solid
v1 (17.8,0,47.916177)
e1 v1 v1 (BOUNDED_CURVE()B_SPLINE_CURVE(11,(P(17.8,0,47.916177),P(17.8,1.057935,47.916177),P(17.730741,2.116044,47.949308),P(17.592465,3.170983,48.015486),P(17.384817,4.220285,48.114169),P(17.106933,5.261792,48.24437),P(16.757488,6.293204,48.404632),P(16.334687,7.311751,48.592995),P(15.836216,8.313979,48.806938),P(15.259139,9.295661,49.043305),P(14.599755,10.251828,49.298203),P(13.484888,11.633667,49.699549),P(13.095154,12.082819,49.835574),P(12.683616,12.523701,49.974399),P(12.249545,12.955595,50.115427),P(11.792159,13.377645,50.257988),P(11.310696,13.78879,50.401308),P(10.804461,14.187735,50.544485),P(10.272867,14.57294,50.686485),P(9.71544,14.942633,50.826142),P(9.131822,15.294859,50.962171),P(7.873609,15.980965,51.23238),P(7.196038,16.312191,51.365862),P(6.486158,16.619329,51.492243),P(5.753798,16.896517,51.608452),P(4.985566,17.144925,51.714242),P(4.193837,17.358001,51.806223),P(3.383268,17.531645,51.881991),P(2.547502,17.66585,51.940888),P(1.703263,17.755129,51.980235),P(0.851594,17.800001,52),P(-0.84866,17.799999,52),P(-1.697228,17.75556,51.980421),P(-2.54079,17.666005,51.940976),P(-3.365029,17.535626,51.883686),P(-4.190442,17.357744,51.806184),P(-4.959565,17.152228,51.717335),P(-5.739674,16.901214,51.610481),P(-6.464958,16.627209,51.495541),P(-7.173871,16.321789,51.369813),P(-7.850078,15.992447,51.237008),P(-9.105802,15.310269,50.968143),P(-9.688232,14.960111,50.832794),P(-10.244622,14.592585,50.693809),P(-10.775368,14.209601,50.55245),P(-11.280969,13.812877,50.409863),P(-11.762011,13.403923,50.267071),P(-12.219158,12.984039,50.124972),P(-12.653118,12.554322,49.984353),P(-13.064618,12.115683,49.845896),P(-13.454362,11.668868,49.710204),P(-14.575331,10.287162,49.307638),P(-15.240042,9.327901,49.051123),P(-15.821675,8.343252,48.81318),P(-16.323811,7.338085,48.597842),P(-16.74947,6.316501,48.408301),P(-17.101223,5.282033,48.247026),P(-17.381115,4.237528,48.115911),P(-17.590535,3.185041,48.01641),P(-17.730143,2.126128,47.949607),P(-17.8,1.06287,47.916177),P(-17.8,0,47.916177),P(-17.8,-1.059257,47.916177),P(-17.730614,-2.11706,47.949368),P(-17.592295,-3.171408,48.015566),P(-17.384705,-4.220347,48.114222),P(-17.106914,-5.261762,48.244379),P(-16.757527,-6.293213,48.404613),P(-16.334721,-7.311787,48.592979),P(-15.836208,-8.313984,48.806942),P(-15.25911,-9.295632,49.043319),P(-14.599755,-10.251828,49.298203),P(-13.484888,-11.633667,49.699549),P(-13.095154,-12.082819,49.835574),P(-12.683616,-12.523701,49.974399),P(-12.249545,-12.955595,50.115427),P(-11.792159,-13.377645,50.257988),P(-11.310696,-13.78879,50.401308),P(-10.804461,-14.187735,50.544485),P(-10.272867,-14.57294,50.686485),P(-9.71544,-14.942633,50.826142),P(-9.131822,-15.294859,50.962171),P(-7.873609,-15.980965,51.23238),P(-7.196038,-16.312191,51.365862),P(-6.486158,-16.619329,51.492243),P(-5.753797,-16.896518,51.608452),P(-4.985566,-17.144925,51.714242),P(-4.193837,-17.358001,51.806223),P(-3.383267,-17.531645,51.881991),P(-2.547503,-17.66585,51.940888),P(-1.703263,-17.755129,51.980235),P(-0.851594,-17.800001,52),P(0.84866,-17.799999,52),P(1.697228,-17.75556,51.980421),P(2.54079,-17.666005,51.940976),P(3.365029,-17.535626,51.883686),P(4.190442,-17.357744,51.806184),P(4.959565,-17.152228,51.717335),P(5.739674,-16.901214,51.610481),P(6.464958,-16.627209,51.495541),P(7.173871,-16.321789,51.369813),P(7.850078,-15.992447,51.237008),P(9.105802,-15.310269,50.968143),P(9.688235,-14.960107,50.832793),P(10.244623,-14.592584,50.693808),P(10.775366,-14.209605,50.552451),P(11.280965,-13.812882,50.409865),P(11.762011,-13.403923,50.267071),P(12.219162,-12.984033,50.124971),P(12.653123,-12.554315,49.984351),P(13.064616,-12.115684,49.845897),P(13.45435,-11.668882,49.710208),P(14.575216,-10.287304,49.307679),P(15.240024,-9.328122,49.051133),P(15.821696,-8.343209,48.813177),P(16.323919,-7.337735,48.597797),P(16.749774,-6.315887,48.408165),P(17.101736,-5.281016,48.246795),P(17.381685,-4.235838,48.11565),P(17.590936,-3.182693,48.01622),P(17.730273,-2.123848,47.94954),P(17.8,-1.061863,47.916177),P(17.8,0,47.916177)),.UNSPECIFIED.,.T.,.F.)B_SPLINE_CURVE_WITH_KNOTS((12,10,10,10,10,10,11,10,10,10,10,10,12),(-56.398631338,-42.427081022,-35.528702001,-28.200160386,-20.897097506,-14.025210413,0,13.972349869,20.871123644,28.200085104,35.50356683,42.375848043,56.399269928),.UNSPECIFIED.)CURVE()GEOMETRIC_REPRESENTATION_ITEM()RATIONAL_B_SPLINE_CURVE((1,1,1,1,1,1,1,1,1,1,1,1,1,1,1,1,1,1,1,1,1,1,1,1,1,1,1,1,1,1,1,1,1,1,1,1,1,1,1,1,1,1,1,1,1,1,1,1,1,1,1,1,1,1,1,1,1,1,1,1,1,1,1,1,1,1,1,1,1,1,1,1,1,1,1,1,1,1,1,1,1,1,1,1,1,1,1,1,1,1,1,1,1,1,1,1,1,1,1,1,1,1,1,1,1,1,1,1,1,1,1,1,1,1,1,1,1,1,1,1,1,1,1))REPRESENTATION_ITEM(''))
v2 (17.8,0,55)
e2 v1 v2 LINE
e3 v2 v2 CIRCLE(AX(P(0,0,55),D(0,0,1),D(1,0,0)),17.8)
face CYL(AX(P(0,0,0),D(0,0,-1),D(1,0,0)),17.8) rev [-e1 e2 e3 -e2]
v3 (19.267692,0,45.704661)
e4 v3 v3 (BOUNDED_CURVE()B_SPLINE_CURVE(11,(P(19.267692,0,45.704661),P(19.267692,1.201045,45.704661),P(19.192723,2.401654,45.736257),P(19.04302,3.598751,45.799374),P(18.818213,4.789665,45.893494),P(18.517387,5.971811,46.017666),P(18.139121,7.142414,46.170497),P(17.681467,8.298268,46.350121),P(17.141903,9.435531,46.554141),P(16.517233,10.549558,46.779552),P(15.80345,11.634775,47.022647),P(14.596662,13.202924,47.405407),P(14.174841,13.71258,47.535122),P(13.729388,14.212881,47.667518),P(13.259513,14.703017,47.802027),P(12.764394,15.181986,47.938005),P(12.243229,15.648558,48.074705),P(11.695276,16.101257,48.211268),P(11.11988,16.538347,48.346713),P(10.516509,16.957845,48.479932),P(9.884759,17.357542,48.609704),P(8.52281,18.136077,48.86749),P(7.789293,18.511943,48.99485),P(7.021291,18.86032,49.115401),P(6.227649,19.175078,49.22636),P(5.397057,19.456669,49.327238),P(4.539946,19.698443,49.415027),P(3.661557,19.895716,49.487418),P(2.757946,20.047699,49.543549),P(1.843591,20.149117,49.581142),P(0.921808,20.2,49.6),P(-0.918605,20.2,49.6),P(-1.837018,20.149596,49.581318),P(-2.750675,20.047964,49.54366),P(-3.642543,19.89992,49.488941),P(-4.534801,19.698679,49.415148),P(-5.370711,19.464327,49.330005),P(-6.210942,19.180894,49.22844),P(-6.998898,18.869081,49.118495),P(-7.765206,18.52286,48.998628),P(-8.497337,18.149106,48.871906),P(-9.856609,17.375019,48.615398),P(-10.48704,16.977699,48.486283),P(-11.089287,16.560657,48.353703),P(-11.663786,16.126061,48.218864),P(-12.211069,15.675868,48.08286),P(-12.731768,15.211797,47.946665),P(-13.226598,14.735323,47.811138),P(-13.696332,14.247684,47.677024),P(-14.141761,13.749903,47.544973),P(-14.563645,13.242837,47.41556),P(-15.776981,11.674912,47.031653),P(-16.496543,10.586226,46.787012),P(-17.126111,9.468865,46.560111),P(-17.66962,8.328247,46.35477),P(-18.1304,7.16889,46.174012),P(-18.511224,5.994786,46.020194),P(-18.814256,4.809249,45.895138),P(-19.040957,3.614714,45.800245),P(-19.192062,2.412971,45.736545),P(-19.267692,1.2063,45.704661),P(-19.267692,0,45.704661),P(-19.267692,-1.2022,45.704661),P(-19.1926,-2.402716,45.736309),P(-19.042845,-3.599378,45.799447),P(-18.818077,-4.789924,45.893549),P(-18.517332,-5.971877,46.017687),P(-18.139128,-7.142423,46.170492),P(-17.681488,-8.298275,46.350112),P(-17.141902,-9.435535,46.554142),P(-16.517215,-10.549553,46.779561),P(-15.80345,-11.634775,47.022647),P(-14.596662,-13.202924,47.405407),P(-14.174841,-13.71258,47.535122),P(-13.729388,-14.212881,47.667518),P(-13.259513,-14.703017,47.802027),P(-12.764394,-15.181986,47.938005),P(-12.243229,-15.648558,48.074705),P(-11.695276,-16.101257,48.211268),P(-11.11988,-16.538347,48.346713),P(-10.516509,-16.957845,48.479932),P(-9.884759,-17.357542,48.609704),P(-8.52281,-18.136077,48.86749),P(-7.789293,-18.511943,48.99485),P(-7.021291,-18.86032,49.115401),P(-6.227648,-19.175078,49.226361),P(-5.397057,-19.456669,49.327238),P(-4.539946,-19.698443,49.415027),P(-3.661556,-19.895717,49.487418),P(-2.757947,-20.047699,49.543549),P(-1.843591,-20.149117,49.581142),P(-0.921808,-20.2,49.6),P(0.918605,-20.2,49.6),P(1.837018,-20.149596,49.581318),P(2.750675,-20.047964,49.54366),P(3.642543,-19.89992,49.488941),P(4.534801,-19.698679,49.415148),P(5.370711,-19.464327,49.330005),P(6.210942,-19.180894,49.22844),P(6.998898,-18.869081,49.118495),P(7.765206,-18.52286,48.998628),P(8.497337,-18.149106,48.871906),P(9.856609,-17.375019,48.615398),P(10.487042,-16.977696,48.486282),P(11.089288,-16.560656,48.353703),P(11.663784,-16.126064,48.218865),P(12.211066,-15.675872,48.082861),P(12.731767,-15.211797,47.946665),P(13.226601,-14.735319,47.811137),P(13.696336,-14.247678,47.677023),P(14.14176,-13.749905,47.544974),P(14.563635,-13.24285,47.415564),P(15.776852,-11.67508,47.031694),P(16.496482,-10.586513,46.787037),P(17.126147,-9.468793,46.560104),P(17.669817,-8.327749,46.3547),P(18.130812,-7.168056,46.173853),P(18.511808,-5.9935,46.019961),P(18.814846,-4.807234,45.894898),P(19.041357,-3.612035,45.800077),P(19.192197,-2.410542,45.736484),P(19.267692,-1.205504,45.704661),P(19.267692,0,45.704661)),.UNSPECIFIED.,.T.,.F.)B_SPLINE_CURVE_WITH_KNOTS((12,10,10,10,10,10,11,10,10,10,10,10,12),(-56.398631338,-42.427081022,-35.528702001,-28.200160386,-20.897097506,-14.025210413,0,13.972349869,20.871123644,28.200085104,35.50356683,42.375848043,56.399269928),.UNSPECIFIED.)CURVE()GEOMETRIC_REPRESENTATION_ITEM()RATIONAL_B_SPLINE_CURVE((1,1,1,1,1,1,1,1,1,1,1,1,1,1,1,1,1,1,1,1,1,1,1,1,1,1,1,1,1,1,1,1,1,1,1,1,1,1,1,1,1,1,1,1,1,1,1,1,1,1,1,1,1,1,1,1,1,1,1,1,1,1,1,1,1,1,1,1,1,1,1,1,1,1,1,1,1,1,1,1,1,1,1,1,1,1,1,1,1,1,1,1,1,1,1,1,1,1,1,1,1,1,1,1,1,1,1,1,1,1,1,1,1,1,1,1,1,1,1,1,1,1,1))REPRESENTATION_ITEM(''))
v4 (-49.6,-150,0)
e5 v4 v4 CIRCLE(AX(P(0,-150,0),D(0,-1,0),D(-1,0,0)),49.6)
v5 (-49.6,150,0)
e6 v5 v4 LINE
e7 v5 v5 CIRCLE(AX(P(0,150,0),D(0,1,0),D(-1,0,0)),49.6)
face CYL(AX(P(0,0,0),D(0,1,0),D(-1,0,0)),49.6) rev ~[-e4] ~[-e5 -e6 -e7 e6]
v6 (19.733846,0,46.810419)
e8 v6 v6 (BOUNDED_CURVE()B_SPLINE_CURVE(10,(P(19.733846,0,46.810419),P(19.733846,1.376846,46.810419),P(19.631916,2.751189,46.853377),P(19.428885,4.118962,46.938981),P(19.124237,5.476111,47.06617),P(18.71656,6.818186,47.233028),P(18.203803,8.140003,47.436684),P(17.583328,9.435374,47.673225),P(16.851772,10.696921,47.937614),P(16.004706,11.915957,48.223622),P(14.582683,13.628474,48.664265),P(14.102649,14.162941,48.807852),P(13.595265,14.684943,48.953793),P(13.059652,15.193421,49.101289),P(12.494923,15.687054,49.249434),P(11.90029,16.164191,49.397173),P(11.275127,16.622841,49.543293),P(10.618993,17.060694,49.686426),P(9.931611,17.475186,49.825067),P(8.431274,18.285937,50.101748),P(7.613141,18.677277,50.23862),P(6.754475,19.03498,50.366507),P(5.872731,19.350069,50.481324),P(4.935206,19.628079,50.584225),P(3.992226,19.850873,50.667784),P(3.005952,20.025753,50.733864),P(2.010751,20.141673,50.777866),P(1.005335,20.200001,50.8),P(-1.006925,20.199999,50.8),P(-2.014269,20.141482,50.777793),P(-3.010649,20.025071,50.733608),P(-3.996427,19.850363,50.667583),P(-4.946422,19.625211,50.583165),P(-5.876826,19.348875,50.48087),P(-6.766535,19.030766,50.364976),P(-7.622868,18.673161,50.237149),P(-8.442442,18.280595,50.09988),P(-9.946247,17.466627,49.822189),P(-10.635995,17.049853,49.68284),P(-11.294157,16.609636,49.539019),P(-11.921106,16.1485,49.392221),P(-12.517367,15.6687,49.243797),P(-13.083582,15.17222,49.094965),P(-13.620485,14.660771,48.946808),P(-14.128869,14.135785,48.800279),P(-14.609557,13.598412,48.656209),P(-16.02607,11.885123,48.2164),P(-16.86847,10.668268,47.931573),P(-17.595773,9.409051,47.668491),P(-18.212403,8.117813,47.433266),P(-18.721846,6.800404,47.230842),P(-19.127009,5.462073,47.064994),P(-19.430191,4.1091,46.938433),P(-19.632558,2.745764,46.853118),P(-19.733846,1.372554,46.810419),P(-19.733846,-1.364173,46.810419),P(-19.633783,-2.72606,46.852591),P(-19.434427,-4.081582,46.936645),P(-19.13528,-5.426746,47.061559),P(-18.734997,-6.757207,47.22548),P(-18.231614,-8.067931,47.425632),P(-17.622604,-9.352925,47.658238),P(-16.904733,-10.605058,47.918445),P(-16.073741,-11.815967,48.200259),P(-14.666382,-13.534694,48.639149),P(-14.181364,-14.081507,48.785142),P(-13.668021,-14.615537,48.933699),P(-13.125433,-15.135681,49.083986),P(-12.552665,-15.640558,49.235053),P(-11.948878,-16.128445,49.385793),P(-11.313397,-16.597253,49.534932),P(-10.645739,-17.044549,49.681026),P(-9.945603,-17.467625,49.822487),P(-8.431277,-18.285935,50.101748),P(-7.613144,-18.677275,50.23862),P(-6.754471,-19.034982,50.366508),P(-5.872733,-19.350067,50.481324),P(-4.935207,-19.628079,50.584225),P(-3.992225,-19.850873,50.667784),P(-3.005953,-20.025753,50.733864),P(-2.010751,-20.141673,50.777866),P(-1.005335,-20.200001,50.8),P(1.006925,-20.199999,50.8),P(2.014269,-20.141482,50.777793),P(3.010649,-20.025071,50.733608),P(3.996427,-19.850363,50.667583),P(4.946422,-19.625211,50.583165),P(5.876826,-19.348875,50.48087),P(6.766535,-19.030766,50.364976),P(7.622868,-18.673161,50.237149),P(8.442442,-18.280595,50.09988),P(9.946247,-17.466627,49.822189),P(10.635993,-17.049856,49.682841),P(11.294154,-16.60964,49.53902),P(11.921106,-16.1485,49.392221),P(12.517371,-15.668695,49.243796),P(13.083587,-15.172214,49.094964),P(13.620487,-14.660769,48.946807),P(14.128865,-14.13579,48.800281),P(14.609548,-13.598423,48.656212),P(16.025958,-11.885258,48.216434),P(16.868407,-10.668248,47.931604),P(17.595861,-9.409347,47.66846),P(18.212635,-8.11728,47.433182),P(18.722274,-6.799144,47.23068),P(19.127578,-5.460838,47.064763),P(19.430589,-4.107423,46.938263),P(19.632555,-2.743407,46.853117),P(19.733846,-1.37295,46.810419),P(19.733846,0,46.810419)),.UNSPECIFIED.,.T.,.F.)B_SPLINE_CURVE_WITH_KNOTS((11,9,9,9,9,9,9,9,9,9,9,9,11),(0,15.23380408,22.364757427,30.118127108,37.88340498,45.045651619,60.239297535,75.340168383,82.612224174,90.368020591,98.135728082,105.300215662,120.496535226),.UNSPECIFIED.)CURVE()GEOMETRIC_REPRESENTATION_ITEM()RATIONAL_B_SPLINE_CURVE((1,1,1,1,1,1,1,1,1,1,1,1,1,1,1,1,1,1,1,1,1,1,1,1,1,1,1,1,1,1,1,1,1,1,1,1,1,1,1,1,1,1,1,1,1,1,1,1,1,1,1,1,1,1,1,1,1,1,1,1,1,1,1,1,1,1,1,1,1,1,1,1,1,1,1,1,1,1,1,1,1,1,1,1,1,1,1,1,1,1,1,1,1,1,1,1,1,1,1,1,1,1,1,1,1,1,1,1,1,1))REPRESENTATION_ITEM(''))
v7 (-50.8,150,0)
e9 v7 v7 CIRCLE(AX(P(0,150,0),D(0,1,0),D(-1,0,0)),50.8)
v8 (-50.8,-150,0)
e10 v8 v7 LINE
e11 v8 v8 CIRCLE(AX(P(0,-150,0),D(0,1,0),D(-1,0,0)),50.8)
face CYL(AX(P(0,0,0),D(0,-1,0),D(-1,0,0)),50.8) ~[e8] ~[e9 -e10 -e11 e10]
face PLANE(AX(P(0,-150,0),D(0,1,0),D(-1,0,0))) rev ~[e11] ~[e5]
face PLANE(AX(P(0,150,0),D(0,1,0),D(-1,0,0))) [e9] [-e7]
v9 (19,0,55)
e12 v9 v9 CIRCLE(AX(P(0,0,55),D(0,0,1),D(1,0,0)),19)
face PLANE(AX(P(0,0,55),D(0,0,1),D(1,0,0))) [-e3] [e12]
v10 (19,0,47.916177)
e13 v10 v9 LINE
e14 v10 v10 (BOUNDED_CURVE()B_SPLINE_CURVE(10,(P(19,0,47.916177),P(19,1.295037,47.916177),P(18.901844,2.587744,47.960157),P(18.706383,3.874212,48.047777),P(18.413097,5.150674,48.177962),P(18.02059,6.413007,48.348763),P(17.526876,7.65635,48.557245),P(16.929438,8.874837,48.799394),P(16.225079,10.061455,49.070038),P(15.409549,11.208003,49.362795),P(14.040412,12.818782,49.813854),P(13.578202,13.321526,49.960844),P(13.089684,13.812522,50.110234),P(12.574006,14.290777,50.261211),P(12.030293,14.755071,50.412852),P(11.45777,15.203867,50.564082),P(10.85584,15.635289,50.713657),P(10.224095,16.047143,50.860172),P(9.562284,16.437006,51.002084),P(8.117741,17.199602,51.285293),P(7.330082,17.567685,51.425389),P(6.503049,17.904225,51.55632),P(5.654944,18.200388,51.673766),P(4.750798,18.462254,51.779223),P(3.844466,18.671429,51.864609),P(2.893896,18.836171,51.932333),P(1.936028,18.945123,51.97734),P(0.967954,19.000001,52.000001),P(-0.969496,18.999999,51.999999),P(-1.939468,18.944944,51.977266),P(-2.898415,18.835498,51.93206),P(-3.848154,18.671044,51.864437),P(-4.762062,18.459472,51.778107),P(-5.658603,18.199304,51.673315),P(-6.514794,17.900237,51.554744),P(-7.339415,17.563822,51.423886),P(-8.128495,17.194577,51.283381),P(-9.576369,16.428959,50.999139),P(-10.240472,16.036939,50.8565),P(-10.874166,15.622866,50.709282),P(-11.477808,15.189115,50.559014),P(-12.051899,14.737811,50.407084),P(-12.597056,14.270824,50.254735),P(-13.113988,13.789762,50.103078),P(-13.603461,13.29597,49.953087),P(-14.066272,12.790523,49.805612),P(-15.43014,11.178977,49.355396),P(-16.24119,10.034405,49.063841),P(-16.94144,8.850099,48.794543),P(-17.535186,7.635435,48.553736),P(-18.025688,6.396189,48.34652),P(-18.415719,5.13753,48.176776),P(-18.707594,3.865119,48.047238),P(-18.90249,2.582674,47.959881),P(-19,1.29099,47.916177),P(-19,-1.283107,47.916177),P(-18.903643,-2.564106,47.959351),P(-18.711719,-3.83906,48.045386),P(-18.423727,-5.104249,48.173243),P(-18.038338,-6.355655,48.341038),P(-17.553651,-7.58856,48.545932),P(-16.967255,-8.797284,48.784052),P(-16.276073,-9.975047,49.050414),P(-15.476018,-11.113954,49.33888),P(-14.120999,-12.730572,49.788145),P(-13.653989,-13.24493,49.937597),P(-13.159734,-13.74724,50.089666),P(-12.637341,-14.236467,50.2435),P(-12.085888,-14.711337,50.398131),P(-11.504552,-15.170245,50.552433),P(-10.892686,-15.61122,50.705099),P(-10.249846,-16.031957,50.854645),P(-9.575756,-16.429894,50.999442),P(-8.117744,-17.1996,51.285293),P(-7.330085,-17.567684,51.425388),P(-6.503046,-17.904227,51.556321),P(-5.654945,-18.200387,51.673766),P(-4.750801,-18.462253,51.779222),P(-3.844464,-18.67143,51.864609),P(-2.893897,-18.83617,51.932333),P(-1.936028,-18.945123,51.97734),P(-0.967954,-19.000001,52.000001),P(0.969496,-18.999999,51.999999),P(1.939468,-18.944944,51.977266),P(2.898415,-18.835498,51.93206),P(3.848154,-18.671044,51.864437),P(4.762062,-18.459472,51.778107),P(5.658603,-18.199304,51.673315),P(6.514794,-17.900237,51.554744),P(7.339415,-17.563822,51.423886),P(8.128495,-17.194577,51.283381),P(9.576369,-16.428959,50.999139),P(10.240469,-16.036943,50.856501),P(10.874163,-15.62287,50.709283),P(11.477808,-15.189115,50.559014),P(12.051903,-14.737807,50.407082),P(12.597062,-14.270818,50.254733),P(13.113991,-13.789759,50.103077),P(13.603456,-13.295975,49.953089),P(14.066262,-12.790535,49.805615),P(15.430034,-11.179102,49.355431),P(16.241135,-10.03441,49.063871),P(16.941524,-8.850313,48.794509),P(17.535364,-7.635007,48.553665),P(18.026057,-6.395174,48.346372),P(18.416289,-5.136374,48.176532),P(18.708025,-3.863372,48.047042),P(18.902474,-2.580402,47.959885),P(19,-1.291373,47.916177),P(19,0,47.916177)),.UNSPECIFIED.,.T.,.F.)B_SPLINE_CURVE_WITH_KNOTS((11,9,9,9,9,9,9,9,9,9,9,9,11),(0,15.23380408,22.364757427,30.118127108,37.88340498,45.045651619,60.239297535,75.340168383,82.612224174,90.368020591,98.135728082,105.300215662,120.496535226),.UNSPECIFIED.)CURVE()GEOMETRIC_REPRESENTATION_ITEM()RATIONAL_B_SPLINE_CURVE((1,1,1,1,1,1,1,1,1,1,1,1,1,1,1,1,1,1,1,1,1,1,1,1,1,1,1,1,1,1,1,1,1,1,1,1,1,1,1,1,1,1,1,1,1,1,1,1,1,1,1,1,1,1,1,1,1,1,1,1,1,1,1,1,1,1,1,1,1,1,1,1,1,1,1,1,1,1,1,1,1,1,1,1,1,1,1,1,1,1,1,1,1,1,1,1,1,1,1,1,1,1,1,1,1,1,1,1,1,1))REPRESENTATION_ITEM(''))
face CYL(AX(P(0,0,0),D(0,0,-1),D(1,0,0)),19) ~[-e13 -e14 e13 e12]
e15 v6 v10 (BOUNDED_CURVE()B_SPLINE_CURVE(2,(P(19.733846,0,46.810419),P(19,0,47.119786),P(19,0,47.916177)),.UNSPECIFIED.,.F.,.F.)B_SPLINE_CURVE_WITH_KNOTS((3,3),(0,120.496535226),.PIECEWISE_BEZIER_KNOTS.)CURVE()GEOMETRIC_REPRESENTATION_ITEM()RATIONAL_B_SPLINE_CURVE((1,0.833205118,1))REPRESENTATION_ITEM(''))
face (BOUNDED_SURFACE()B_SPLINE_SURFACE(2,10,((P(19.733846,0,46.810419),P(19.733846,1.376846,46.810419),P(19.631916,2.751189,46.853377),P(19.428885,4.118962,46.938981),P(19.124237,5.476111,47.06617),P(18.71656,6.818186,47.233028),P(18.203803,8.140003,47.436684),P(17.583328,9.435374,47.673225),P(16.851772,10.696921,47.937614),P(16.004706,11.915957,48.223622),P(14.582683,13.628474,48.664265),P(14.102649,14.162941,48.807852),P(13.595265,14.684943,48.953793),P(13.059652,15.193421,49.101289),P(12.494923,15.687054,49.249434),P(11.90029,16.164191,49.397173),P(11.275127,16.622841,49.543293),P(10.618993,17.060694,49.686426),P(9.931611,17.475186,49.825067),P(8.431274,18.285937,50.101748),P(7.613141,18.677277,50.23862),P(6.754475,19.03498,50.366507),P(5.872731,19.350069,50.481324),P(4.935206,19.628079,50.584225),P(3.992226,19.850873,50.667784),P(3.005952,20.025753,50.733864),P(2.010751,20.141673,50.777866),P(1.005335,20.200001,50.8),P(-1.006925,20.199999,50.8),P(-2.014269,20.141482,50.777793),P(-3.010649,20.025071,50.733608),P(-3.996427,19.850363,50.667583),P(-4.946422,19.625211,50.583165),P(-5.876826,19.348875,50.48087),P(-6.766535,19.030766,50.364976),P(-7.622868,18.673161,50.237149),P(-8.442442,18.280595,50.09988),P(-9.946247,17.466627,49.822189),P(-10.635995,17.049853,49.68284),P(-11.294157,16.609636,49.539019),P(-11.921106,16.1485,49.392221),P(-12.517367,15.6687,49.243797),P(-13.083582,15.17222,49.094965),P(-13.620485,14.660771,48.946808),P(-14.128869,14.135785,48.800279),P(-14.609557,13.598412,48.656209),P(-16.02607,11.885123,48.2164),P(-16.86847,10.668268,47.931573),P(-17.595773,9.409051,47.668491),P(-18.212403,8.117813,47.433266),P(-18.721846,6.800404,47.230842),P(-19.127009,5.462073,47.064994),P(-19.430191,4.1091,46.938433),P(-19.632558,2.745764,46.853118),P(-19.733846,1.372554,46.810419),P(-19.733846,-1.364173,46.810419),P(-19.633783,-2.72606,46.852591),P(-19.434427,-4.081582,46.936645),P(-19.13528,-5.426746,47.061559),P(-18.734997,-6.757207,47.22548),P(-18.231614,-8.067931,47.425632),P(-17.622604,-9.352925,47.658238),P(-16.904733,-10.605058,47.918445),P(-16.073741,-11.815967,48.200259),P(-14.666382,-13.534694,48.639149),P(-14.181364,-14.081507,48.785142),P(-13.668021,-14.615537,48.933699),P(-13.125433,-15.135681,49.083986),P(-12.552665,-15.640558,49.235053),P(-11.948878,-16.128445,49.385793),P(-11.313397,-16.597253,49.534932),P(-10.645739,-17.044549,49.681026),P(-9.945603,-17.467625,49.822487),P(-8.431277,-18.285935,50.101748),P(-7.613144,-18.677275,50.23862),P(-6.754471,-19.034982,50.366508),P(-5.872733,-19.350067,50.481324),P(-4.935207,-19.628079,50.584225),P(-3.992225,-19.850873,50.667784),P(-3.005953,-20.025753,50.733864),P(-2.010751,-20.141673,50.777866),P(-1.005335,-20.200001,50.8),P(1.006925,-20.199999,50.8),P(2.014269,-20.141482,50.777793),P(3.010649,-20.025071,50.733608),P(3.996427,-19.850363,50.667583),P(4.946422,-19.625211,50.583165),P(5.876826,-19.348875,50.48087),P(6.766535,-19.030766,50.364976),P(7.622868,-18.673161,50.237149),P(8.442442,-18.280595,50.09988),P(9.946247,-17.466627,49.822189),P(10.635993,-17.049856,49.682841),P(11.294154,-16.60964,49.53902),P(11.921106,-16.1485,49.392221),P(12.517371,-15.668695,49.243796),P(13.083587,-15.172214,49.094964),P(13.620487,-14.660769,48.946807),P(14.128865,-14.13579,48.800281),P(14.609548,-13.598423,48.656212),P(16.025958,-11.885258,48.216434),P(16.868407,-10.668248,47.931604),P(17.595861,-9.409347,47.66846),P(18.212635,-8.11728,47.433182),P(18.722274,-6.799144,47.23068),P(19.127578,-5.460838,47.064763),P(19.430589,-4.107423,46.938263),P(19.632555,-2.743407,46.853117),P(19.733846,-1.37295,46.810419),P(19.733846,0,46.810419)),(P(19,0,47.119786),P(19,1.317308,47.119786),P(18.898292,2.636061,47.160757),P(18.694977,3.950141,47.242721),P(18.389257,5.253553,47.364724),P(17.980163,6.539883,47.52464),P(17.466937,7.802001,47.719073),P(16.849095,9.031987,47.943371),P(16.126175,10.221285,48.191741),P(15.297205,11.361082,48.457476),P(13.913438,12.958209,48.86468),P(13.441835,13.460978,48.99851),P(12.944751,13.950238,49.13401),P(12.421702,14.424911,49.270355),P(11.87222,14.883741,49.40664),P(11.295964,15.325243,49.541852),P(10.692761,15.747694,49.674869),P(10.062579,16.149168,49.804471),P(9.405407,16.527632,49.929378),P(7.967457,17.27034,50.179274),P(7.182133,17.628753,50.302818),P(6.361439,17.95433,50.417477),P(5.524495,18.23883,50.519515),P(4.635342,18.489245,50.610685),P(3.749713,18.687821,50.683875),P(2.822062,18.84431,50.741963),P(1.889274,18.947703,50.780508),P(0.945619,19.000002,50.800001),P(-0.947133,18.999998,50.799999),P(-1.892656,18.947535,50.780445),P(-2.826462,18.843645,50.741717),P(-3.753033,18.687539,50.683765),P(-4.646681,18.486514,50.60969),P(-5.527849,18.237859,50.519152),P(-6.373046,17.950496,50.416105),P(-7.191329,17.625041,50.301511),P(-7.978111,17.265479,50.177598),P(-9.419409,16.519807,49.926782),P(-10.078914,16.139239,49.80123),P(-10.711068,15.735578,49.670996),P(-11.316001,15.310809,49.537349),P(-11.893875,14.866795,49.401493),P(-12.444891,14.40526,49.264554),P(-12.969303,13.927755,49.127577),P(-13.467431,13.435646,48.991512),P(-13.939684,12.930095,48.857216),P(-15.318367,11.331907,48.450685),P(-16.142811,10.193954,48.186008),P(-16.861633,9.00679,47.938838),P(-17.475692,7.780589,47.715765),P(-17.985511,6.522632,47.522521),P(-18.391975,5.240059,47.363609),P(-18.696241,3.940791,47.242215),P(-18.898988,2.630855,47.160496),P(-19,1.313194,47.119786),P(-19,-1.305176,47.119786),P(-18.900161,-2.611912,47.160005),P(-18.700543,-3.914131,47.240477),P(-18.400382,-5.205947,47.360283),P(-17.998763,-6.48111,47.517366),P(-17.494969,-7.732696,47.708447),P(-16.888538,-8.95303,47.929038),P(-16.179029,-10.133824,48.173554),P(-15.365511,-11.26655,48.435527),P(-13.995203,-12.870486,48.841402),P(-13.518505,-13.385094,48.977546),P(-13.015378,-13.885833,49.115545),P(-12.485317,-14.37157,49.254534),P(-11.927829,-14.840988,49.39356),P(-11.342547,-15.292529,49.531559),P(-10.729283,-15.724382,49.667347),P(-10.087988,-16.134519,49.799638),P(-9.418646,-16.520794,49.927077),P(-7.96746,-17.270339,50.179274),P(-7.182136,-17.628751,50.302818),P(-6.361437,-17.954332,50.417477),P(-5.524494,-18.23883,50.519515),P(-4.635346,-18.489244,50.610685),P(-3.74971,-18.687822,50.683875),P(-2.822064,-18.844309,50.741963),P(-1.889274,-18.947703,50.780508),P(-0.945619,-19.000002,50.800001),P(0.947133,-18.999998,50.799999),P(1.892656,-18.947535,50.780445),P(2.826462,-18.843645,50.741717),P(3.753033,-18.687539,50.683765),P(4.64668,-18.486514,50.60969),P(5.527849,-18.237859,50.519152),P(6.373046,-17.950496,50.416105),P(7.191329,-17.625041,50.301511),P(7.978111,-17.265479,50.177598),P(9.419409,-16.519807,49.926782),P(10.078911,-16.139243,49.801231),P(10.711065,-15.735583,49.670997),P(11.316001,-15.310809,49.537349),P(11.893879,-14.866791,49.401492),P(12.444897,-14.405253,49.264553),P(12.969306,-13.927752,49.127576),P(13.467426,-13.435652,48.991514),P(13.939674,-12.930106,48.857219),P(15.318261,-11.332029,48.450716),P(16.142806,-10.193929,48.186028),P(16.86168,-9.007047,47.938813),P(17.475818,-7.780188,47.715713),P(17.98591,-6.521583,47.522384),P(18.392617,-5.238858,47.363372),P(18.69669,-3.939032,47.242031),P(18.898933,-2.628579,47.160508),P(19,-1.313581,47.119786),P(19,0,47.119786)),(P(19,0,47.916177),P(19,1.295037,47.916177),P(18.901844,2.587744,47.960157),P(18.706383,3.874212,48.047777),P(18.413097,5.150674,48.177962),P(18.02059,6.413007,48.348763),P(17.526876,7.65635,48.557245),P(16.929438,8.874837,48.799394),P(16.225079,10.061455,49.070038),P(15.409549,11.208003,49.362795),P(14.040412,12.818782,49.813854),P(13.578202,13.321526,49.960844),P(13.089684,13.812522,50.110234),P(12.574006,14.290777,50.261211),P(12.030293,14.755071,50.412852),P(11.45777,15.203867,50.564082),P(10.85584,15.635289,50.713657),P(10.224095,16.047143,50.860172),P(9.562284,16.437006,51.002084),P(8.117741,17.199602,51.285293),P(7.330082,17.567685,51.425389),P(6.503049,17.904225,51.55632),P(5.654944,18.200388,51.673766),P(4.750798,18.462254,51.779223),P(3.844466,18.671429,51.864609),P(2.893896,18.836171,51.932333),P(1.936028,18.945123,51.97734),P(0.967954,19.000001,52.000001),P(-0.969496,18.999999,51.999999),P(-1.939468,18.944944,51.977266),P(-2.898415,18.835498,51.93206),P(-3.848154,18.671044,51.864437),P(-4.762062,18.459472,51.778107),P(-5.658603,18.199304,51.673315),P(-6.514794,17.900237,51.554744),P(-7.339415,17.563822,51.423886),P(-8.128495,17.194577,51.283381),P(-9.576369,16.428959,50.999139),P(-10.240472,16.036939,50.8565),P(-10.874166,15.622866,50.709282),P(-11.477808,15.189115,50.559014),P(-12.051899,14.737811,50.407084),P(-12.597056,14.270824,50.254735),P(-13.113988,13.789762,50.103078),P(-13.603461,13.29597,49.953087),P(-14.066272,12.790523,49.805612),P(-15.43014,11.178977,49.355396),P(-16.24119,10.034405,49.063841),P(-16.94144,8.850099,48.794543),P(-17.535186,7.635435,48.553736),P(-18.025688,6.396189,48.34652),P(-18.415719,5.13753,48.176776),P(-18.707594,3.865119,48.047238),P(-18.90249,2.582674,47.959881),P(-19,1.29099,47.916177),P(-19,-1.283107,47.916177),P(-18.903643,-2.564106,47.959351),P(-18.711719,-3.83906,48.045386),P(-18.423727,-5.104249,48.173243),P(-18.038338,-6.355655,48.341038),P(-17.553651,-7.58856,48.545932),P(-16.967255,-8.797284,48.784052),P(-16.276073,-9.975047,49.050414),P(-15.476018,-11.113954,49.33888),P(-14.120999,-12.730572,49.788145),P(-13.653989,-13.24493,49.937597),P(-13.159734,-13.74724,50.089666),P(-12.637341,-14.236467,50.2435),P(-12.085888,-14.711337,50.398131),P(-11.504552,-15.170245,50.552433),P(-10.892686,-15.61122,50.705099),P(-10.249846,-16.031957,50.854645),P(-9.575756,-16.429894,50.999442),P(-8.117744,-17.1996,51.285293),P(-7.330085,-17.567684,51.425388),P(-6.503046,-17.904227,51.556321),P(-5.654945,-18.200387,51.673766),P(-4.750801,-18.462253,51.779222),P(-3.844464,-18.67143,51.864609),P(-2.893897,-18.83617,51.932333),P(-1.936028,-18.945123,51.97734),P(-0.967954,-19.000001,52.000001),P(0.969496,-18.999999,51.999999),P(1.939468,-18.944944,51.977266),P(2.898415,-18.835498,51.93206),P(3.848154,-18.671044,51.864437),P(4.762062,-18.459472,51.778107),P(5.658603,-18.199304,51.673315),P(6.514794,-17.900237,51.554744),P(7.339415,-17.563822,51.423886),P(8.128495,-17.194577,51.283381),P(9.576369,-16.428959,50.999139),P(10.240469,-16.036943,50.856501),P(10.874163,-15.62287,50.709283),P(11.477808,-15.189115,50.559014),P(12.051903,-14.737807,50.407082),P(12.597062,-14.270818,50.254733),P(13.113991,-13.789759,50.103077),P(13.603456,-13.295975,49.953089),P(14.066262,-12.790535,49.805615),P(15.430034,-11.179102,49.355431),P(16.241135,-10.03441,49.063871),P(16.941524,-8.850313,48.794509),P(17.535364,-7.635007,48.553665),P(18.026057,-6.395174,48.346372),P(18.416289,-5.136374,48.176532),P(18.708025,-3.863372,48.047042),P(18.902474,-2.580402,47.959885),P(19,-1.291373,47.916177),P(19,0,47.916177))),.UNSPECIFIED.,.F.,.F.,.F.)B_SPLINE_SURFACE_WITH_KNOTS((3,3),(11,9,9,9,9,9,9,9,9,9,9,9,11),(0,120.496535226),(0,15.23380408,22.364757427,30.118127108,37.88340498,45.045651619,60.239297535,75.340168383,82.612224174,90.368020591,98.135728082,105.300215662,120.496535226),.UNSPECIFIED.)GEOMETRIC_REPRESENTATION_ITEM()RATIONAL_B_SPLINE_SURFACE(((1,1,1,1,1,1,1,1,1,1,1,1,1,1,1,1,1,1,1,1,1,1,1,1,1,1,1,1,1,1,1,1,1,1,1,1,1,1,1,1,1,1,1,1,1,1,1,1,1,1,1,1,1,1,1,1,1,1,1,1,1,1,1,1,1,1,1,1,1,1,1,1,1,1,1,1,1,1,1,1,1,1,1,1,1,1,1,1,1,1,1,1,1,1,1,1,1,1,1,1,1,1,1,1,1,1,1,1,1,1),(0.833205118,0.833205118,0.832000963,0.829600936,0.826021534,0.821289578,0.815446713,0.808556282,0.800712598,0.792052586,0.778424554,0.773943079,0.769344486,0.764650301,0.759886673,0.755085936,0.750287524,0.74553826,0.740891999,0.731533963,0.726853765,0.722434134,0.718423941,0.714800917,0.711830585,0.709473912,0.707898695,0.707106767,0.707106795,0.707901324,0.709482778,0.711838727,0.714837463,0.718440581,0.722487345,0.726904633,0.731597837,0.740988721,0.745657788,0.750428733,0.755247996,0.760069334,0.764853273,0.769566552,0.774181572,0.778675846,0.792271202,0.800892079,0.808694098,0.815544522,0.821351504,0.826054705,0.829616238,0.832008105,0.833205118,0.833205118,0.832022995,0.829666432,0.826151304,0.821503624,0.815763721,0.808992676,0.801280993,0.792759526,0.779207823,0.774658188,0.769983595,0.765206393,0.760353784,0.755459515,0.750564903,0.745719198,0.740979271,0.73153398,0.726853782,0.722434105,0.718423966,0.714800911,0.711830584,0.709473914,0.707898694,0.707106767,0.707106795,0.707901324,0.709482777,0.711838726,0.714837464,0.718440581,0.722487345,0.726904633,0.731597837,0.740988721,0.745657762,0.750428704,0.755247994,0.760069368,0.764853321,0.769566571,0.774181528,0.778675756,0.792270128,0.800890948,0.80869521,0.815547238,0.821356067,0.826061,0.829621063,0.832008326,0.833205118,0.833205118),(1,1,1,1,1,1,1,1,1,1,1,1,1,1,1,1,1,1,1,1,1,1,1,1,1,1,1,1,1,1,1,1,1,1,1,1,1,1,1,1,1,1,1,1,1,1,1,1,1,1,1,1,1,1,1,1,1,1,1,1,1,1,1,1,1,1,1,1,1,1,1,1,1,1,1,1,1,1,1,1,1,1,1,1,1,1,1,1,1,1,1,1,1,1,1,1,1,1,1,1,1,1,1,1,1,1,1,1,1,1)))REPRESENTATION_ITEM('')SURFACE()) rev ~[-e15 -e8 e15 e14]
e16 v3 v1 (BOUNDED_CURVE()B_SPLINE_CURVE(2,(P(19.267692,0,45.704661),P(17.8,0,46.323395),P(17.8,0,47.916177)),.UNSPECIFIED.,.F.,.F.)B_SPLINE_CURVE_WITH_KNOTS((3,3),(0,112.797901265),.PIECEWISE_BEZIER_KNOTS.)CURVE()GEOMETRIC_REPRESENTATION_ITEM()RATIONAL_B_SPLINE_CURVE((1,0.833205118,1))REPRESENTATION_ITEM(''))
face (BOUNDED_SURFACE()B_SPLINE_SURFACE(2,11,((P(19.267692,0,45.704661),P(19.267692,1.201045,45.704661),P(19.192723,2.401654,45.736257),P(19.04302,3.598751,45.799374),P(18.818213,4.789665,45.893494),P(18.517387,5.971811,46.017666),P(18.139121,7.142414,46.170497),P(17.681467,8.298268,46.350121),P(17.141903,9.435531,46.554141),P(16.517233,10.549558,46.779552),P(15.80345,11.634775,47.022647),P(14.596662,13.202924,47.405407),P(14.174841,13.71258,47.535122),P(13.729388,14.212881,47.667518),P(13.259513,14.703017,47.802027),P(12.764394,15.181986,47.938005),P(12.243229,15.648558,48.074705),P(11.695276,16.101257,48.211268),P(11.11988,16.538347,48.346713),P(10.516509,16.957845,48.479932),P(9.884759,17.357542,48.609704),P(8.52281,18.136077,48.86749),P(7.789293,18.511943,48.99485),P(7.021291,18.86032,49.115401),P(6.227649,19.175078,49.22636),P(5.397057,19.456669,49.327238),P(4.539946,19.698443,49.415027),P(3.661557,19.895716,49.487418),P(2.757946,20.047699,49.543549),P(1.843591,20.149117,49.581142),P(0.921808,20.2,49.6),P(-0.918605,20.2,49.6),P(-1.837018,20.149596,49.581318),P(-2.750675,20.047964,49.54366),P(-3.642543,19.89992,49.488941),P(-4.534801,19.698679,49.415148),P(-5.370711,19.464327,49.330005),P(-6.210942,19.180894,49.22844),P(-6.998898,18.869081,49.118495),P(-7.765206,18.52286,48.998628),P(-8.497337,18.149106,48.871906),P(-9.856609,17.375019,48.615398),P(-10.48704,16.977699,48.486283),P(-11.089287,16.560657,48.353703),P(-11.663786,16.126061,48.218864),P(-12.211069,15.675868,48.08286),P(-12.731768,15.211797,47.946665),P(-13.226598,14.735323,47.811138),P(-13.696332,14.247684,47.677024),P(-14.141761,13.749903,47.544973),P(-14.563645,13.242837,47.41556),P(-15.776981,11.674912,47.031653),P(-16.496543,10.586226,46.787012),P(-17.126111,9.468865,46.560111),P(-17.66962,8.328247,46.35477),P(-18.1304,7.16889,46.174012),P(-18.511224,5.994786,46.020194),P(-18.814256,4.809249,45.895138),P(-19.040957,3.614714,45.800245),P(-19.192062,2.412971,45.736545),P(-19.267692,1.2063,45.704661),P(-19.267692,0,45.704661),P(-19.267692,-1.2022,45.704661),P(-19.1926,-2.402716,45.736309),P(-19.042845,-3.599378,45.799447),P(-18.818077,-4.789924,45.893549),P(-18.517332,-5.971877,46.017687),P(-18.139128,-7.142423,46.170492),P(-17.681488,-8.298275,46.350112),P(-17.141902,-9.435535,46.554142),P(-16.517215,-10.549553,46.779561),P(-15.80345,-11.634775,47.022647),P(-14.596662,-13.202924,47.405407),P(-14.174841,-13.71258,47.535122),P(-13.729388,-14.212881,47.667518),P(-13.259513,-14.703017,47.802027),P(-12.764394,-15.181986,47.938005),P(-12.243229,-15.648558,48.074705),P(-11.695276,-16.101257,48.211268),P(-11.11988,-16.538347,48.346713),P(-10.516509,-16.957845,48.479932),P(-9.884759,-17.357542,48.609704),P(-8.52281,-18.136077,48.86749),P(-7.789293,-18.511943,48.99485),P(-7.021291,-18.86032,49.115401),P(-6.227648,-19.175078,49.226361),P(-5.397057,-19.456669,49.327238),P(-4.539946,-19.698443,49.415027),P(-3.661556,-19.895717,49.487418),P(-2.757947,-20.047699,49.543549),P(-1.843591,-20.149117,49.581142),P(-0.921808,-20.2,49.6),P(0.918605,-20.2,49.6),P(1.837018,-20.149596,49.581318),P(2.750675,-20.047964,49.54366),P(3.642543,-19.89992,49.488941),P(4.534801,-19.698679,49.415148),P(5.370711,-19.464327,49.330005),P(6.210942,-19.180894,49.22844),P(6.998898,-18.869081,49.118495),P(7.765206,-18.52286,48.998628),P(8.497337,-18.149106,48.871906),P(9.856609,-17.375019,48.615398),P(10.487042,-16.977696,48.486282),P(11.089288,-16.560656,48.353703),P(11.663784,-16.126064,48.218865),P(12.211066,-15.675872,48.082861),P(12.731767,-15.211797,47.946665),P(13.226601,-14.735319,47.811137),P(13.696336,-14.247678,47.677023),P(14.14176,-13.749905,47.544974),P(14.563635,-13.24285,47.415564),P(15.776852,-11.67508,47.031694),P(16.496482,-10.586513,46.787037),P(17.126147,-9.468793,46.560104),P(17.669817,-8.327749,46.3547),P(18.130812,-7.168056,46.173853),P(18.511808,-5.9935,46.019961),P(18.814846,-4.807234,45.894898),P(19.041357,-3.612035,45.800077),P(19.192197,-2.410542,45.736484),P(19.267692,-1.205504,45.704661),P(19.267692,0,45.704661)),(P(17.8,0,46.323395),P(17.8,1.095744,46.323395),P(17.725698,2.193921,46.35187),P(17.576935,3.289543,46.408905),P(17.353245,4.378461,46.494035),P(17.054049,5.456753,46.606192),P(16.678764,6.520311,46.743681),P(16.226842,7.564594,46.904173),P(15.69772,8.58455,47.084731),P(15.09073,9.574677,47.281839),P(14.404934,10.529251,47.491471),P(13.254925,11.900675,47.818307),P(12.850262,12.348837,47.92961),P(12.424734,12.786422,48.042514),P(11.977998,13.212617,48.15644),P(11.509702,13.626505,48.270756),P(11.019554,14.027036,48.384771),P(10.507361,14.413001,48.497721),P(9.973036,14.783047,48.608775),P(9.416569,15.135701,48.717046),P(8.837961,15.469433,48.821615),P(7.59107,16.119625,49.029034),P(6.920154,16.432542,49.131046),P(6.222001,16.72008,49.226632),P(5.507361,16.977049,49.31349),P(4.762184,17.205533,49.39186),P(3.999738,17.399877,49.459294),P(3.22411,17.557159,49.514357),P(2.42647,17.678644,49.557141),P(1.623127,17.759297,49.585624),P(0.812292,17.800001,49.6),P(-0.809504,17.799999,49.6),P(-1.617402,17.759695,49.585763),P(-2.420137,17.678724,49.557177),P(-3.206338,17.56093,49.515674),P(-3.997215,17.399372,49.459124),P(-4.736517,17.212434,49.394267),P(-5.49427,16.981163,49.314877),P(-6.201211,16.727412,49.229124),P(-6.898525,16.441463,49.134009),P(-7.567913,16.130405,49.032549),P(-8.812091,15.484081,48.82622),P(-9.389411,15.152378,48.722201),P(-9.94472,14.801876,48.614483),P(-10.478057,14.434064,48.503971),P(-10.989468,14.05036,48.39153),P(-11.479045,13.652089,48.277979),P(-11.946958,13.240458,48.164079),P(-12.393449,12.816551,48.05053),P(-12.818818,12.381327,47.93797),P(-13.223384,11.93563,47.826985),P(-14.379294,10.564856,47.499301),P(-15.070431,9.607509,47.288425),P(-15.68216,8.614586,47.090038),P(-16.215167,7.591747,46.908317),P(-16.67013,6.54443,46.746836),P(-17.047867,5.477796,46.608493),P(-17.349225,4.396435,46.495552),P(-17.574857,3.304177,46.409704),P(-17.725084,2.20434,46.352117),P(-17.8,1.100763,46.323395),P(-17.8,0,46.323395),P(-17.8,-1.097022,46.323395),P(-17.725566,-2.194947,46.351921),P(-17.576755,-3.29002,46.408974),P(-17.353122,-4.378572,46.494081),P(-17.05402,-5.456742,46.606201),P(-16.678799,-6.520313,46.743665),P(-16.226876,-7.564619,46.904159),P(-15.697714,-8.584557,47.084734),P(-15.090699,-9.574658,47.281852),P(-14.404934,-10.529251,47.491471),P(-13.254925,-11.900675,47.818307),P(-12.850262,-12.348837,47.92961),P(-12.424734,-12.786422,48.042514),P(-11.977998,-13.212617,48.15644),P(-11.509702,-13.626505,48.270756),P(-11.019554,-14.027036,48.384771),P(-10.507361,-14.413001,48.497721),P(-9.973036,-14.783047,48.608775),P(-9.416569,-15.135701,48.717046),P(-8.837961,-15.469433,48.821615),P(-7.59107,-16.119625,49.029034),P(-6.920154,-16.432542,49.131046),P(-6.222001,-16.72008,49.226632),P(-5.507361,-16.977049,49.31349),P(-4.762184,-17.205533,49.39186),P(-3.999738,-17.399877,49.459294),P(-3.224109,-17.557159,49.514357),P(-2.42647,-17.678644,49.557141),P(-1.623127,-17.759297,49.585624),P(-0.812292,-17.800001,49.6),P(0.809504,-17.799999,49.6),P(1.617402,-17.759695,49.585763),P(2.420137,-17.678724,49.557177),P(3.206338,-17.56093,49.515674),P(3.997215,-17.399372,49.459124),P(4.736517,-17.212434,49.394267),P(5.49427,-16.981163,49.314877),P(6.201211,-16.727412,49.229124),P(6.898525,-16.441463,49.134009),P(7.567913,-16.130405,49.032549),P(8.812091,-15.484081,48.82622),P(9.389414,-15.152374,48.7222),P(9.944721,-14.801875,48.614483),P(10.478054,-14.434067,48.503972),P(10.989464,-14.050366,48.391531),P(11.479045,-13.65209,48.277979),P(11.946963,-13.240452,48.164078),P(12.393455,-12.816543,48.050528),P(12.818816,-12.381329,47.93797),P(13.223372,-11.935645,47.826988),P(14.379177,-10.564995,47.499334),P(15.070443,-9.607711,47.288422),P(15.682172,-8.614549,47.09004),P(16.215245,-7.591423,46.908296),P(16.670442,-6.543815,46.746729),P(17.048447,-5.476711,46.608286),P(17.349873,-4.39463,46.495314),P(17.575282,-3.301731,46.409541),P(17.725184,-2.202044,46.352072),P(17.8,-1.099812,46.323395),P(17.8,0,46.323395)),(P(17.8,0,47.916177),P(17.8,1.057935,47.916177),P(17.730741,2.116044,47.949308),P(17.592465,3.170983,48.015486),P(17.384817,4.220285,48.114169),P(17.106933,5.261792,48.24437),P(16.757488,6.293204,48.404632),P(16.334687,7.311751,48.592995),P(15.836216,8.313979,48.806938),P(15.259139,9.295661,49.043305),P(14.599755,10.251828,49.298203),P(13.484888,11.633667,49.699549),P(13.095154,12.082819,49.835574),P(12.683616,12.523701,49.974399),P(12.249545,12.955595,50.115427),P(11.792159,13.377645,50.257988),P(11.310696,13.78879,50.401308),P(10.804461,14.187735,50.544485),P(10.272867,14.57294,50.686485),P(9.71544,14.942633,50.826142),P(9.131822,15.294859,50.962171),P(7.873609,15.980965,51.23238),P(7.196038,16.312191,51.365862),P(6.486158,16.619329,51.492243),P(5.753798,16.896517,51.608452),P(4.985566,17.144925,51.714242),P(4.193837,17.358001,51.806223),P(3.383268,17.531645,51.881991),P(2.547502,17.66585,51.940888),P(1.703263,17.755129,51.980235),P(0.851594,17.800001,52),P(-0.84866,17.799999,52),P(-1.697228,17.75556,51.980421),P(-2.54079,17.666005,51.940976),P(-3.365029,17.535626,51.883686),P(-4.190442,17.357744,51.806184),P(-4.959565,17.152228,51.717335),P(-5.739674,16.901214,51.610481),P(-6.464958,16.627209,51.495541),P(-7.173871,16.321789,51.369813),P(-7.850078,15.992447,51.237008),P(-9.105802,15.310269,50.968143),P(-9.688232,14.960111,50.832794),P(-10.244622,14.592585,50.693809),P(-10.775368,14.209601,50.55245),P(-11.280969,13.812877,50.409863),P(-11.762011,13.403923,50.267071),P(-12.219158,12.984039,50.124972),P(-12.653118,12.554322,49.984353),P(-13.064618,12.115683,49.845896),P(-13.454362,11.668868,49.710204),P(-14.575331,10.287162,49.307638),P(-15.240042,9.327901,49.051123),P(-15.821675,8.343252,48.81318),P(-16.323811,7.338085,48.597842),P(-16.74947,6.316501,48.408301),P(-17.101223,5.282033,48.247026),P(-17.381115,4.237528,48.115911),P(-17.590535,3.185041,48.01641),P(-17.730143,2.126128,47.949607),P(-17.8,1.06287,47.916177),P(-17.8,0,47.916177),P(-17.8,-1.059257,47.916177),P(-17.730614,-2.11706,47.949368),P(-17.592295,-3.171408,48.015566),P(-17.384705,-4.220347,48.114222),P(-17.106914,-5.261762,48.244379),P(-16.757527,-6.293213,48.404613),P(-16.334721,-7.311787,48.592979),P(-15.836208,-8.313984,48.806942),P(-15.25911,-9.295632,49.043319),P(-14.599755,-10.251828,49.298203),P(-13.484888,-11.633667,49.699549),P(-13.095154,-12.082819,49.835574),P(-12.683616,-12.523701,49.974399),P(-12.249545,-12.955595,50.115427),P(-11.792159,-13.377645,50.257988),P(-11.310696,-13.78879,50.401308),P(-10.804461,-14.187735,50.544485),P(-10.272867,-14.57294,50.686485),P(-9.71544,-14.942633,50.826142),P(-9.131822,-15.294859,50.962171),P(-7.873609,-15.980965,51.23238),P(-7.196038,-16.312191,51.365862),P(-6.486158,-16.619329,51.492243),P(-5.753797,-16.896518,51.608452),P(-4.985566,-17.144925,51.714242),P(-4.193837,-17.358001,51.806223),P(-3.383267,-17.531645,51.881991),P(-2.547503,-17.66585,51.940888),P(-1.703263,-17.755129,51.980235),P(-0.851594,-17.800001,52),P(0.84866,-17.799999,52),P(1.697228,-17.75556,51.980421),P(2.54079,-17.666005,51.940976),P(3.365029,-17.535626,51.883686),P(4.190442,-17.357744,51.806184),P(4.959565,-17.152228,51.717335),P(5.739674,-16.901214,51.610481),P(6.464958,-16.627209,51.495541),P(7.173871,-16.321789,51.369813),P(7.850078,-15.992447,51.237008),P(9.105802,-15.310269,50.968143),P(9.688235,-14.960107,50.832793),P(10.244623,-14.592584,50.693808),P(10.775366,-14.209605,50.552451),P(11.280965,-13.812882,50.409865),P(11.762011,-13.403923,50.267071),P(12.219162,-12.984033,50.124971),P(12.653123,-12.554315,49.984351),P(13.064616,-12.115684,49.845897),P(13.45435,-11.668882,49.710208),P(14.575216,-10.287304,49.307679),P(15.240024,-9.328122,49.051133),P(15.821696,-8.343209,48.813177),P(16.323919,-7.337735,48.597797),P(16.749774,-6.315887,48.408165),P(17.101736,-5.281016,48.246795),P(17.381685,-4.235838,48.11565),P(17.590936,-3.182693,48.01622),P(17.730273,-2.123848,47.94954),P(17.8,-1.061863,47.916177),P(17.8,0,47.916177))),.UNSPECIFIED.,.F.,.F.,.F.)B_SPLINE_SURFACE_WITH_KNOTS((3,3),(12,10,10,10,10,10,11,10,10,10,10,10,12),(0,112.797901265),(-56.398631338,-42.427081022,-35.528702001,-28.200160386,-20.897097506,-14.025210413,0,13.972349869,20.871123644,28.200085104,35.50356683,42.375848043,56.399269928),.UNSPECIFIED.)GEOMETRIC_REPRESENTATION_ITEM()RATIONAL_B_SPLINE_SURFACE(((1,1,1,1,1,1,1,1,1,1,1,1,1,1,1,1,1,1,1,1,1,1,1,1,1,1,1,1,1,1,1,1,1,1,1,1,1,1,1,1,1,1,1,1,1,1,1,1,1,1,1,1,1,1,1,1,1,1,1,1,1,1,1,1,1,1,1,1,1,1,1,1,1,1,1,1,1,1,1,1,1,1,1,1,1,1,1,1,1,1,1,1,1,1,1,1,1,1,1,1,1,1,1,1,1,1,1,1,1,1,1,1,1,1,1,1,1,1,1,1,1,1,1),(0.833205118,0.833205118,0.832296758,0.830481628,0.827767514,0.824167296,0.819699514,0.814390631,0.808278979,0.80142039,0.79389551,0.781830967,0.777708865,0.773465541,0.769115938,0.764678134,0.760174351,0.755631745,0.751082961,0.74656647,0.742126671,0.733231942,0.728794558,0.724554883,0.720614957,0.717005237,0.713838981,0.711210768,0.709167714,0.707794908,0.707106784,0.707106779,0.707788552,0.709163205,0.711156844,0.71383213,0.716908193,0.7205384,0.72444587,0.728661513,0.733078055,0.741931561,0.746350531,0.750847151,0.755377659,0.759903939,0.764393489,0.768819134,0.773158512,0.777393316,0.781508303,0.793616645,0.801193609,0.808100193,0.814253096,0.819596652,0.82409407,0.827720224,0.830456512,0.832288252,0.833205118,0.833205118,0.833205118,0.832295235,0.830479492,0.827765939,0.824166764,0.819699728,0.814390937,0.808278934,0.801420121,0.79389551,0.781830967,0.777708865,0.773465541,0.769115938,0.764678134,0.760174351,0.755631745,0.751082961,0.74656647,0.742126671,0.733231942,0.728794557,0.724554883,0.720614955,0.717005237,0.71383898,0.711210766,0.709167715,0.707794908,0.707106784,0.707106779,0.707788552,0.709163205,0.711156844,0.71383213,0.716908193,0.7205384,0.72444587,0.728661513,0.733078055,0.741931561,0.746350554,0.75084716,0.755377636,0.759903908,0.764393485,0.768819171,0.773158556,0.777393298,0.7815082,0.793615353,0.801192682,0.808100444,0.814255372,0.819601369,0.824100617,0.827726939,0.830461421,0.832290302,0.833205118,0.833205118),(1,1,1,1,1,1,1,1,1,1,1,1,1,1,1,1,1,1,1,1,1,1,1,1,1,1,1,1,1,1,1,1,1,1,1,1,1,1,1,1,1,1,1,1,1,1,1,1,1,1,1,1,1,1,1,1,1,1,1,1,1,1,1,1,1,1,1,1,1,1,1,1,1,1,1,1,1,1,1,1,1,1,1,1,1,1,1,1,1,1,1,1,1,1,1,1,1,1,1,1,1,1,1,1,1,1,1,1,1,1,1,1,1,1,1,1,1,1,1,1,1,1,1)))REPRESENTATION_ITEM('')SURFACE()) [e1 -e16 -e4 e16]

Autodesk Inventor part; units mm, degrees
ref_plane "YZ Plane" through (0, 0, 0) normal (1, 0, 0) x (0, 1, 0)
ref_plane "XZ Plane" through (0, 0, 0) normal (0, 1, 0) x (-1, 0, 0)
ref_plane "XY Plane" through (0, 0, 0) normal (0, 0, 1) x (1, 0, 0)
sketch "Szkic8" plane through (0, 0, 0) normal (0, 1, 0) x (-1, 0, 0)
  circle A0 centre (0, 0) radius 50.8
  circle A1 centre (0, 0) radius 49.6
  dimension "d53" = 101.6
  dimension "d54" = 1.2
extrude "Wyciągnięcie proste2" add sketch "Szkic8" along normal mid plane 300
sketch "Szkic13" plane through (0, 0, 0) normal (0, 0, 1) x (1, 0, 0)
  circle A0 centre (0, 0) radius 19
  circle A1 centre (0, 0) radius 17.8
  dimension "d67" = 38
  dimension "d68" = 1.2
extrude "Wyciągnięcie proste6" add sketch "Szkic13" along normal blind 55
sketch "Szkic14" plane through (0, 0, 55) normal (0, 0, 1) x (1, 0, 0)
  circle A0 centre (0, 0) radius 17.8 projected
extrude "Wyciągnięcie proste7" cut sketch "Szkic14" against normal blind 55
sketch "Szkic15" plane through (0, -150, 0) normal (0, -1, 0) x (1, 0, 0)
  circle A0 centre (0, 0) radius 49.6 projected
extrude "Wyciągnięcie proste8" cut sketch "Szkic15" against normal blind 300
fillet "Zaokrąglenie3" radius 1.2 2 edges at (-0.0019, 19, 50.8) (-0.0001, -19, 50.8)
fillet "Zaokrąglenie4" radius 2.4 2 edges at (-0.0005, -17.8, 49.6) (-0.001, 17.8, 49.6)
equation "\"d53\" = OD"
equation "\"d54\" = THK"
equation "\"d55\" = L1"
equation "\"d67\" = OD2"
equation "\"d68\" = THK"
equation "\"d69\" = L2"
equation "\"d71\" = L2"
equation "\"d73\" = L1"
equation "\"d75\" = THK"
equation "\"d76\" = 2 * THK"
equation "\"SzerokośćGięciaPodcięcia\" = Grubość"
equation "\"RozmiarPodcięciaNarożnika\" = 4 * Grubość"
equation "\"PromieńPrzejścia\" = PromieńGięcia"
equation "\"Rozmiar_promienia_Jacobiego\" = PromieńGięcia"
equation "\"Wielk_odstępu\" = Grubość"
equation "\"d2\" = PromieńGięcia"
equation "\"d23\" = PromieńGięcia"
equation "\"OD\" = 101.6"
equation "\"THK\" = 1.2"
equation "\"L1\" = 300"
equation "\"L2\" = 55"
equation "\"OD2\" = 38"
equation "\"Grubość\" = 1.5"
equation "\"PromieńGięcia\" = 3"
properties part number "Trójnik red. krótki  Ø101,6 38 101,6 s=1,2 L=300" material "304"
